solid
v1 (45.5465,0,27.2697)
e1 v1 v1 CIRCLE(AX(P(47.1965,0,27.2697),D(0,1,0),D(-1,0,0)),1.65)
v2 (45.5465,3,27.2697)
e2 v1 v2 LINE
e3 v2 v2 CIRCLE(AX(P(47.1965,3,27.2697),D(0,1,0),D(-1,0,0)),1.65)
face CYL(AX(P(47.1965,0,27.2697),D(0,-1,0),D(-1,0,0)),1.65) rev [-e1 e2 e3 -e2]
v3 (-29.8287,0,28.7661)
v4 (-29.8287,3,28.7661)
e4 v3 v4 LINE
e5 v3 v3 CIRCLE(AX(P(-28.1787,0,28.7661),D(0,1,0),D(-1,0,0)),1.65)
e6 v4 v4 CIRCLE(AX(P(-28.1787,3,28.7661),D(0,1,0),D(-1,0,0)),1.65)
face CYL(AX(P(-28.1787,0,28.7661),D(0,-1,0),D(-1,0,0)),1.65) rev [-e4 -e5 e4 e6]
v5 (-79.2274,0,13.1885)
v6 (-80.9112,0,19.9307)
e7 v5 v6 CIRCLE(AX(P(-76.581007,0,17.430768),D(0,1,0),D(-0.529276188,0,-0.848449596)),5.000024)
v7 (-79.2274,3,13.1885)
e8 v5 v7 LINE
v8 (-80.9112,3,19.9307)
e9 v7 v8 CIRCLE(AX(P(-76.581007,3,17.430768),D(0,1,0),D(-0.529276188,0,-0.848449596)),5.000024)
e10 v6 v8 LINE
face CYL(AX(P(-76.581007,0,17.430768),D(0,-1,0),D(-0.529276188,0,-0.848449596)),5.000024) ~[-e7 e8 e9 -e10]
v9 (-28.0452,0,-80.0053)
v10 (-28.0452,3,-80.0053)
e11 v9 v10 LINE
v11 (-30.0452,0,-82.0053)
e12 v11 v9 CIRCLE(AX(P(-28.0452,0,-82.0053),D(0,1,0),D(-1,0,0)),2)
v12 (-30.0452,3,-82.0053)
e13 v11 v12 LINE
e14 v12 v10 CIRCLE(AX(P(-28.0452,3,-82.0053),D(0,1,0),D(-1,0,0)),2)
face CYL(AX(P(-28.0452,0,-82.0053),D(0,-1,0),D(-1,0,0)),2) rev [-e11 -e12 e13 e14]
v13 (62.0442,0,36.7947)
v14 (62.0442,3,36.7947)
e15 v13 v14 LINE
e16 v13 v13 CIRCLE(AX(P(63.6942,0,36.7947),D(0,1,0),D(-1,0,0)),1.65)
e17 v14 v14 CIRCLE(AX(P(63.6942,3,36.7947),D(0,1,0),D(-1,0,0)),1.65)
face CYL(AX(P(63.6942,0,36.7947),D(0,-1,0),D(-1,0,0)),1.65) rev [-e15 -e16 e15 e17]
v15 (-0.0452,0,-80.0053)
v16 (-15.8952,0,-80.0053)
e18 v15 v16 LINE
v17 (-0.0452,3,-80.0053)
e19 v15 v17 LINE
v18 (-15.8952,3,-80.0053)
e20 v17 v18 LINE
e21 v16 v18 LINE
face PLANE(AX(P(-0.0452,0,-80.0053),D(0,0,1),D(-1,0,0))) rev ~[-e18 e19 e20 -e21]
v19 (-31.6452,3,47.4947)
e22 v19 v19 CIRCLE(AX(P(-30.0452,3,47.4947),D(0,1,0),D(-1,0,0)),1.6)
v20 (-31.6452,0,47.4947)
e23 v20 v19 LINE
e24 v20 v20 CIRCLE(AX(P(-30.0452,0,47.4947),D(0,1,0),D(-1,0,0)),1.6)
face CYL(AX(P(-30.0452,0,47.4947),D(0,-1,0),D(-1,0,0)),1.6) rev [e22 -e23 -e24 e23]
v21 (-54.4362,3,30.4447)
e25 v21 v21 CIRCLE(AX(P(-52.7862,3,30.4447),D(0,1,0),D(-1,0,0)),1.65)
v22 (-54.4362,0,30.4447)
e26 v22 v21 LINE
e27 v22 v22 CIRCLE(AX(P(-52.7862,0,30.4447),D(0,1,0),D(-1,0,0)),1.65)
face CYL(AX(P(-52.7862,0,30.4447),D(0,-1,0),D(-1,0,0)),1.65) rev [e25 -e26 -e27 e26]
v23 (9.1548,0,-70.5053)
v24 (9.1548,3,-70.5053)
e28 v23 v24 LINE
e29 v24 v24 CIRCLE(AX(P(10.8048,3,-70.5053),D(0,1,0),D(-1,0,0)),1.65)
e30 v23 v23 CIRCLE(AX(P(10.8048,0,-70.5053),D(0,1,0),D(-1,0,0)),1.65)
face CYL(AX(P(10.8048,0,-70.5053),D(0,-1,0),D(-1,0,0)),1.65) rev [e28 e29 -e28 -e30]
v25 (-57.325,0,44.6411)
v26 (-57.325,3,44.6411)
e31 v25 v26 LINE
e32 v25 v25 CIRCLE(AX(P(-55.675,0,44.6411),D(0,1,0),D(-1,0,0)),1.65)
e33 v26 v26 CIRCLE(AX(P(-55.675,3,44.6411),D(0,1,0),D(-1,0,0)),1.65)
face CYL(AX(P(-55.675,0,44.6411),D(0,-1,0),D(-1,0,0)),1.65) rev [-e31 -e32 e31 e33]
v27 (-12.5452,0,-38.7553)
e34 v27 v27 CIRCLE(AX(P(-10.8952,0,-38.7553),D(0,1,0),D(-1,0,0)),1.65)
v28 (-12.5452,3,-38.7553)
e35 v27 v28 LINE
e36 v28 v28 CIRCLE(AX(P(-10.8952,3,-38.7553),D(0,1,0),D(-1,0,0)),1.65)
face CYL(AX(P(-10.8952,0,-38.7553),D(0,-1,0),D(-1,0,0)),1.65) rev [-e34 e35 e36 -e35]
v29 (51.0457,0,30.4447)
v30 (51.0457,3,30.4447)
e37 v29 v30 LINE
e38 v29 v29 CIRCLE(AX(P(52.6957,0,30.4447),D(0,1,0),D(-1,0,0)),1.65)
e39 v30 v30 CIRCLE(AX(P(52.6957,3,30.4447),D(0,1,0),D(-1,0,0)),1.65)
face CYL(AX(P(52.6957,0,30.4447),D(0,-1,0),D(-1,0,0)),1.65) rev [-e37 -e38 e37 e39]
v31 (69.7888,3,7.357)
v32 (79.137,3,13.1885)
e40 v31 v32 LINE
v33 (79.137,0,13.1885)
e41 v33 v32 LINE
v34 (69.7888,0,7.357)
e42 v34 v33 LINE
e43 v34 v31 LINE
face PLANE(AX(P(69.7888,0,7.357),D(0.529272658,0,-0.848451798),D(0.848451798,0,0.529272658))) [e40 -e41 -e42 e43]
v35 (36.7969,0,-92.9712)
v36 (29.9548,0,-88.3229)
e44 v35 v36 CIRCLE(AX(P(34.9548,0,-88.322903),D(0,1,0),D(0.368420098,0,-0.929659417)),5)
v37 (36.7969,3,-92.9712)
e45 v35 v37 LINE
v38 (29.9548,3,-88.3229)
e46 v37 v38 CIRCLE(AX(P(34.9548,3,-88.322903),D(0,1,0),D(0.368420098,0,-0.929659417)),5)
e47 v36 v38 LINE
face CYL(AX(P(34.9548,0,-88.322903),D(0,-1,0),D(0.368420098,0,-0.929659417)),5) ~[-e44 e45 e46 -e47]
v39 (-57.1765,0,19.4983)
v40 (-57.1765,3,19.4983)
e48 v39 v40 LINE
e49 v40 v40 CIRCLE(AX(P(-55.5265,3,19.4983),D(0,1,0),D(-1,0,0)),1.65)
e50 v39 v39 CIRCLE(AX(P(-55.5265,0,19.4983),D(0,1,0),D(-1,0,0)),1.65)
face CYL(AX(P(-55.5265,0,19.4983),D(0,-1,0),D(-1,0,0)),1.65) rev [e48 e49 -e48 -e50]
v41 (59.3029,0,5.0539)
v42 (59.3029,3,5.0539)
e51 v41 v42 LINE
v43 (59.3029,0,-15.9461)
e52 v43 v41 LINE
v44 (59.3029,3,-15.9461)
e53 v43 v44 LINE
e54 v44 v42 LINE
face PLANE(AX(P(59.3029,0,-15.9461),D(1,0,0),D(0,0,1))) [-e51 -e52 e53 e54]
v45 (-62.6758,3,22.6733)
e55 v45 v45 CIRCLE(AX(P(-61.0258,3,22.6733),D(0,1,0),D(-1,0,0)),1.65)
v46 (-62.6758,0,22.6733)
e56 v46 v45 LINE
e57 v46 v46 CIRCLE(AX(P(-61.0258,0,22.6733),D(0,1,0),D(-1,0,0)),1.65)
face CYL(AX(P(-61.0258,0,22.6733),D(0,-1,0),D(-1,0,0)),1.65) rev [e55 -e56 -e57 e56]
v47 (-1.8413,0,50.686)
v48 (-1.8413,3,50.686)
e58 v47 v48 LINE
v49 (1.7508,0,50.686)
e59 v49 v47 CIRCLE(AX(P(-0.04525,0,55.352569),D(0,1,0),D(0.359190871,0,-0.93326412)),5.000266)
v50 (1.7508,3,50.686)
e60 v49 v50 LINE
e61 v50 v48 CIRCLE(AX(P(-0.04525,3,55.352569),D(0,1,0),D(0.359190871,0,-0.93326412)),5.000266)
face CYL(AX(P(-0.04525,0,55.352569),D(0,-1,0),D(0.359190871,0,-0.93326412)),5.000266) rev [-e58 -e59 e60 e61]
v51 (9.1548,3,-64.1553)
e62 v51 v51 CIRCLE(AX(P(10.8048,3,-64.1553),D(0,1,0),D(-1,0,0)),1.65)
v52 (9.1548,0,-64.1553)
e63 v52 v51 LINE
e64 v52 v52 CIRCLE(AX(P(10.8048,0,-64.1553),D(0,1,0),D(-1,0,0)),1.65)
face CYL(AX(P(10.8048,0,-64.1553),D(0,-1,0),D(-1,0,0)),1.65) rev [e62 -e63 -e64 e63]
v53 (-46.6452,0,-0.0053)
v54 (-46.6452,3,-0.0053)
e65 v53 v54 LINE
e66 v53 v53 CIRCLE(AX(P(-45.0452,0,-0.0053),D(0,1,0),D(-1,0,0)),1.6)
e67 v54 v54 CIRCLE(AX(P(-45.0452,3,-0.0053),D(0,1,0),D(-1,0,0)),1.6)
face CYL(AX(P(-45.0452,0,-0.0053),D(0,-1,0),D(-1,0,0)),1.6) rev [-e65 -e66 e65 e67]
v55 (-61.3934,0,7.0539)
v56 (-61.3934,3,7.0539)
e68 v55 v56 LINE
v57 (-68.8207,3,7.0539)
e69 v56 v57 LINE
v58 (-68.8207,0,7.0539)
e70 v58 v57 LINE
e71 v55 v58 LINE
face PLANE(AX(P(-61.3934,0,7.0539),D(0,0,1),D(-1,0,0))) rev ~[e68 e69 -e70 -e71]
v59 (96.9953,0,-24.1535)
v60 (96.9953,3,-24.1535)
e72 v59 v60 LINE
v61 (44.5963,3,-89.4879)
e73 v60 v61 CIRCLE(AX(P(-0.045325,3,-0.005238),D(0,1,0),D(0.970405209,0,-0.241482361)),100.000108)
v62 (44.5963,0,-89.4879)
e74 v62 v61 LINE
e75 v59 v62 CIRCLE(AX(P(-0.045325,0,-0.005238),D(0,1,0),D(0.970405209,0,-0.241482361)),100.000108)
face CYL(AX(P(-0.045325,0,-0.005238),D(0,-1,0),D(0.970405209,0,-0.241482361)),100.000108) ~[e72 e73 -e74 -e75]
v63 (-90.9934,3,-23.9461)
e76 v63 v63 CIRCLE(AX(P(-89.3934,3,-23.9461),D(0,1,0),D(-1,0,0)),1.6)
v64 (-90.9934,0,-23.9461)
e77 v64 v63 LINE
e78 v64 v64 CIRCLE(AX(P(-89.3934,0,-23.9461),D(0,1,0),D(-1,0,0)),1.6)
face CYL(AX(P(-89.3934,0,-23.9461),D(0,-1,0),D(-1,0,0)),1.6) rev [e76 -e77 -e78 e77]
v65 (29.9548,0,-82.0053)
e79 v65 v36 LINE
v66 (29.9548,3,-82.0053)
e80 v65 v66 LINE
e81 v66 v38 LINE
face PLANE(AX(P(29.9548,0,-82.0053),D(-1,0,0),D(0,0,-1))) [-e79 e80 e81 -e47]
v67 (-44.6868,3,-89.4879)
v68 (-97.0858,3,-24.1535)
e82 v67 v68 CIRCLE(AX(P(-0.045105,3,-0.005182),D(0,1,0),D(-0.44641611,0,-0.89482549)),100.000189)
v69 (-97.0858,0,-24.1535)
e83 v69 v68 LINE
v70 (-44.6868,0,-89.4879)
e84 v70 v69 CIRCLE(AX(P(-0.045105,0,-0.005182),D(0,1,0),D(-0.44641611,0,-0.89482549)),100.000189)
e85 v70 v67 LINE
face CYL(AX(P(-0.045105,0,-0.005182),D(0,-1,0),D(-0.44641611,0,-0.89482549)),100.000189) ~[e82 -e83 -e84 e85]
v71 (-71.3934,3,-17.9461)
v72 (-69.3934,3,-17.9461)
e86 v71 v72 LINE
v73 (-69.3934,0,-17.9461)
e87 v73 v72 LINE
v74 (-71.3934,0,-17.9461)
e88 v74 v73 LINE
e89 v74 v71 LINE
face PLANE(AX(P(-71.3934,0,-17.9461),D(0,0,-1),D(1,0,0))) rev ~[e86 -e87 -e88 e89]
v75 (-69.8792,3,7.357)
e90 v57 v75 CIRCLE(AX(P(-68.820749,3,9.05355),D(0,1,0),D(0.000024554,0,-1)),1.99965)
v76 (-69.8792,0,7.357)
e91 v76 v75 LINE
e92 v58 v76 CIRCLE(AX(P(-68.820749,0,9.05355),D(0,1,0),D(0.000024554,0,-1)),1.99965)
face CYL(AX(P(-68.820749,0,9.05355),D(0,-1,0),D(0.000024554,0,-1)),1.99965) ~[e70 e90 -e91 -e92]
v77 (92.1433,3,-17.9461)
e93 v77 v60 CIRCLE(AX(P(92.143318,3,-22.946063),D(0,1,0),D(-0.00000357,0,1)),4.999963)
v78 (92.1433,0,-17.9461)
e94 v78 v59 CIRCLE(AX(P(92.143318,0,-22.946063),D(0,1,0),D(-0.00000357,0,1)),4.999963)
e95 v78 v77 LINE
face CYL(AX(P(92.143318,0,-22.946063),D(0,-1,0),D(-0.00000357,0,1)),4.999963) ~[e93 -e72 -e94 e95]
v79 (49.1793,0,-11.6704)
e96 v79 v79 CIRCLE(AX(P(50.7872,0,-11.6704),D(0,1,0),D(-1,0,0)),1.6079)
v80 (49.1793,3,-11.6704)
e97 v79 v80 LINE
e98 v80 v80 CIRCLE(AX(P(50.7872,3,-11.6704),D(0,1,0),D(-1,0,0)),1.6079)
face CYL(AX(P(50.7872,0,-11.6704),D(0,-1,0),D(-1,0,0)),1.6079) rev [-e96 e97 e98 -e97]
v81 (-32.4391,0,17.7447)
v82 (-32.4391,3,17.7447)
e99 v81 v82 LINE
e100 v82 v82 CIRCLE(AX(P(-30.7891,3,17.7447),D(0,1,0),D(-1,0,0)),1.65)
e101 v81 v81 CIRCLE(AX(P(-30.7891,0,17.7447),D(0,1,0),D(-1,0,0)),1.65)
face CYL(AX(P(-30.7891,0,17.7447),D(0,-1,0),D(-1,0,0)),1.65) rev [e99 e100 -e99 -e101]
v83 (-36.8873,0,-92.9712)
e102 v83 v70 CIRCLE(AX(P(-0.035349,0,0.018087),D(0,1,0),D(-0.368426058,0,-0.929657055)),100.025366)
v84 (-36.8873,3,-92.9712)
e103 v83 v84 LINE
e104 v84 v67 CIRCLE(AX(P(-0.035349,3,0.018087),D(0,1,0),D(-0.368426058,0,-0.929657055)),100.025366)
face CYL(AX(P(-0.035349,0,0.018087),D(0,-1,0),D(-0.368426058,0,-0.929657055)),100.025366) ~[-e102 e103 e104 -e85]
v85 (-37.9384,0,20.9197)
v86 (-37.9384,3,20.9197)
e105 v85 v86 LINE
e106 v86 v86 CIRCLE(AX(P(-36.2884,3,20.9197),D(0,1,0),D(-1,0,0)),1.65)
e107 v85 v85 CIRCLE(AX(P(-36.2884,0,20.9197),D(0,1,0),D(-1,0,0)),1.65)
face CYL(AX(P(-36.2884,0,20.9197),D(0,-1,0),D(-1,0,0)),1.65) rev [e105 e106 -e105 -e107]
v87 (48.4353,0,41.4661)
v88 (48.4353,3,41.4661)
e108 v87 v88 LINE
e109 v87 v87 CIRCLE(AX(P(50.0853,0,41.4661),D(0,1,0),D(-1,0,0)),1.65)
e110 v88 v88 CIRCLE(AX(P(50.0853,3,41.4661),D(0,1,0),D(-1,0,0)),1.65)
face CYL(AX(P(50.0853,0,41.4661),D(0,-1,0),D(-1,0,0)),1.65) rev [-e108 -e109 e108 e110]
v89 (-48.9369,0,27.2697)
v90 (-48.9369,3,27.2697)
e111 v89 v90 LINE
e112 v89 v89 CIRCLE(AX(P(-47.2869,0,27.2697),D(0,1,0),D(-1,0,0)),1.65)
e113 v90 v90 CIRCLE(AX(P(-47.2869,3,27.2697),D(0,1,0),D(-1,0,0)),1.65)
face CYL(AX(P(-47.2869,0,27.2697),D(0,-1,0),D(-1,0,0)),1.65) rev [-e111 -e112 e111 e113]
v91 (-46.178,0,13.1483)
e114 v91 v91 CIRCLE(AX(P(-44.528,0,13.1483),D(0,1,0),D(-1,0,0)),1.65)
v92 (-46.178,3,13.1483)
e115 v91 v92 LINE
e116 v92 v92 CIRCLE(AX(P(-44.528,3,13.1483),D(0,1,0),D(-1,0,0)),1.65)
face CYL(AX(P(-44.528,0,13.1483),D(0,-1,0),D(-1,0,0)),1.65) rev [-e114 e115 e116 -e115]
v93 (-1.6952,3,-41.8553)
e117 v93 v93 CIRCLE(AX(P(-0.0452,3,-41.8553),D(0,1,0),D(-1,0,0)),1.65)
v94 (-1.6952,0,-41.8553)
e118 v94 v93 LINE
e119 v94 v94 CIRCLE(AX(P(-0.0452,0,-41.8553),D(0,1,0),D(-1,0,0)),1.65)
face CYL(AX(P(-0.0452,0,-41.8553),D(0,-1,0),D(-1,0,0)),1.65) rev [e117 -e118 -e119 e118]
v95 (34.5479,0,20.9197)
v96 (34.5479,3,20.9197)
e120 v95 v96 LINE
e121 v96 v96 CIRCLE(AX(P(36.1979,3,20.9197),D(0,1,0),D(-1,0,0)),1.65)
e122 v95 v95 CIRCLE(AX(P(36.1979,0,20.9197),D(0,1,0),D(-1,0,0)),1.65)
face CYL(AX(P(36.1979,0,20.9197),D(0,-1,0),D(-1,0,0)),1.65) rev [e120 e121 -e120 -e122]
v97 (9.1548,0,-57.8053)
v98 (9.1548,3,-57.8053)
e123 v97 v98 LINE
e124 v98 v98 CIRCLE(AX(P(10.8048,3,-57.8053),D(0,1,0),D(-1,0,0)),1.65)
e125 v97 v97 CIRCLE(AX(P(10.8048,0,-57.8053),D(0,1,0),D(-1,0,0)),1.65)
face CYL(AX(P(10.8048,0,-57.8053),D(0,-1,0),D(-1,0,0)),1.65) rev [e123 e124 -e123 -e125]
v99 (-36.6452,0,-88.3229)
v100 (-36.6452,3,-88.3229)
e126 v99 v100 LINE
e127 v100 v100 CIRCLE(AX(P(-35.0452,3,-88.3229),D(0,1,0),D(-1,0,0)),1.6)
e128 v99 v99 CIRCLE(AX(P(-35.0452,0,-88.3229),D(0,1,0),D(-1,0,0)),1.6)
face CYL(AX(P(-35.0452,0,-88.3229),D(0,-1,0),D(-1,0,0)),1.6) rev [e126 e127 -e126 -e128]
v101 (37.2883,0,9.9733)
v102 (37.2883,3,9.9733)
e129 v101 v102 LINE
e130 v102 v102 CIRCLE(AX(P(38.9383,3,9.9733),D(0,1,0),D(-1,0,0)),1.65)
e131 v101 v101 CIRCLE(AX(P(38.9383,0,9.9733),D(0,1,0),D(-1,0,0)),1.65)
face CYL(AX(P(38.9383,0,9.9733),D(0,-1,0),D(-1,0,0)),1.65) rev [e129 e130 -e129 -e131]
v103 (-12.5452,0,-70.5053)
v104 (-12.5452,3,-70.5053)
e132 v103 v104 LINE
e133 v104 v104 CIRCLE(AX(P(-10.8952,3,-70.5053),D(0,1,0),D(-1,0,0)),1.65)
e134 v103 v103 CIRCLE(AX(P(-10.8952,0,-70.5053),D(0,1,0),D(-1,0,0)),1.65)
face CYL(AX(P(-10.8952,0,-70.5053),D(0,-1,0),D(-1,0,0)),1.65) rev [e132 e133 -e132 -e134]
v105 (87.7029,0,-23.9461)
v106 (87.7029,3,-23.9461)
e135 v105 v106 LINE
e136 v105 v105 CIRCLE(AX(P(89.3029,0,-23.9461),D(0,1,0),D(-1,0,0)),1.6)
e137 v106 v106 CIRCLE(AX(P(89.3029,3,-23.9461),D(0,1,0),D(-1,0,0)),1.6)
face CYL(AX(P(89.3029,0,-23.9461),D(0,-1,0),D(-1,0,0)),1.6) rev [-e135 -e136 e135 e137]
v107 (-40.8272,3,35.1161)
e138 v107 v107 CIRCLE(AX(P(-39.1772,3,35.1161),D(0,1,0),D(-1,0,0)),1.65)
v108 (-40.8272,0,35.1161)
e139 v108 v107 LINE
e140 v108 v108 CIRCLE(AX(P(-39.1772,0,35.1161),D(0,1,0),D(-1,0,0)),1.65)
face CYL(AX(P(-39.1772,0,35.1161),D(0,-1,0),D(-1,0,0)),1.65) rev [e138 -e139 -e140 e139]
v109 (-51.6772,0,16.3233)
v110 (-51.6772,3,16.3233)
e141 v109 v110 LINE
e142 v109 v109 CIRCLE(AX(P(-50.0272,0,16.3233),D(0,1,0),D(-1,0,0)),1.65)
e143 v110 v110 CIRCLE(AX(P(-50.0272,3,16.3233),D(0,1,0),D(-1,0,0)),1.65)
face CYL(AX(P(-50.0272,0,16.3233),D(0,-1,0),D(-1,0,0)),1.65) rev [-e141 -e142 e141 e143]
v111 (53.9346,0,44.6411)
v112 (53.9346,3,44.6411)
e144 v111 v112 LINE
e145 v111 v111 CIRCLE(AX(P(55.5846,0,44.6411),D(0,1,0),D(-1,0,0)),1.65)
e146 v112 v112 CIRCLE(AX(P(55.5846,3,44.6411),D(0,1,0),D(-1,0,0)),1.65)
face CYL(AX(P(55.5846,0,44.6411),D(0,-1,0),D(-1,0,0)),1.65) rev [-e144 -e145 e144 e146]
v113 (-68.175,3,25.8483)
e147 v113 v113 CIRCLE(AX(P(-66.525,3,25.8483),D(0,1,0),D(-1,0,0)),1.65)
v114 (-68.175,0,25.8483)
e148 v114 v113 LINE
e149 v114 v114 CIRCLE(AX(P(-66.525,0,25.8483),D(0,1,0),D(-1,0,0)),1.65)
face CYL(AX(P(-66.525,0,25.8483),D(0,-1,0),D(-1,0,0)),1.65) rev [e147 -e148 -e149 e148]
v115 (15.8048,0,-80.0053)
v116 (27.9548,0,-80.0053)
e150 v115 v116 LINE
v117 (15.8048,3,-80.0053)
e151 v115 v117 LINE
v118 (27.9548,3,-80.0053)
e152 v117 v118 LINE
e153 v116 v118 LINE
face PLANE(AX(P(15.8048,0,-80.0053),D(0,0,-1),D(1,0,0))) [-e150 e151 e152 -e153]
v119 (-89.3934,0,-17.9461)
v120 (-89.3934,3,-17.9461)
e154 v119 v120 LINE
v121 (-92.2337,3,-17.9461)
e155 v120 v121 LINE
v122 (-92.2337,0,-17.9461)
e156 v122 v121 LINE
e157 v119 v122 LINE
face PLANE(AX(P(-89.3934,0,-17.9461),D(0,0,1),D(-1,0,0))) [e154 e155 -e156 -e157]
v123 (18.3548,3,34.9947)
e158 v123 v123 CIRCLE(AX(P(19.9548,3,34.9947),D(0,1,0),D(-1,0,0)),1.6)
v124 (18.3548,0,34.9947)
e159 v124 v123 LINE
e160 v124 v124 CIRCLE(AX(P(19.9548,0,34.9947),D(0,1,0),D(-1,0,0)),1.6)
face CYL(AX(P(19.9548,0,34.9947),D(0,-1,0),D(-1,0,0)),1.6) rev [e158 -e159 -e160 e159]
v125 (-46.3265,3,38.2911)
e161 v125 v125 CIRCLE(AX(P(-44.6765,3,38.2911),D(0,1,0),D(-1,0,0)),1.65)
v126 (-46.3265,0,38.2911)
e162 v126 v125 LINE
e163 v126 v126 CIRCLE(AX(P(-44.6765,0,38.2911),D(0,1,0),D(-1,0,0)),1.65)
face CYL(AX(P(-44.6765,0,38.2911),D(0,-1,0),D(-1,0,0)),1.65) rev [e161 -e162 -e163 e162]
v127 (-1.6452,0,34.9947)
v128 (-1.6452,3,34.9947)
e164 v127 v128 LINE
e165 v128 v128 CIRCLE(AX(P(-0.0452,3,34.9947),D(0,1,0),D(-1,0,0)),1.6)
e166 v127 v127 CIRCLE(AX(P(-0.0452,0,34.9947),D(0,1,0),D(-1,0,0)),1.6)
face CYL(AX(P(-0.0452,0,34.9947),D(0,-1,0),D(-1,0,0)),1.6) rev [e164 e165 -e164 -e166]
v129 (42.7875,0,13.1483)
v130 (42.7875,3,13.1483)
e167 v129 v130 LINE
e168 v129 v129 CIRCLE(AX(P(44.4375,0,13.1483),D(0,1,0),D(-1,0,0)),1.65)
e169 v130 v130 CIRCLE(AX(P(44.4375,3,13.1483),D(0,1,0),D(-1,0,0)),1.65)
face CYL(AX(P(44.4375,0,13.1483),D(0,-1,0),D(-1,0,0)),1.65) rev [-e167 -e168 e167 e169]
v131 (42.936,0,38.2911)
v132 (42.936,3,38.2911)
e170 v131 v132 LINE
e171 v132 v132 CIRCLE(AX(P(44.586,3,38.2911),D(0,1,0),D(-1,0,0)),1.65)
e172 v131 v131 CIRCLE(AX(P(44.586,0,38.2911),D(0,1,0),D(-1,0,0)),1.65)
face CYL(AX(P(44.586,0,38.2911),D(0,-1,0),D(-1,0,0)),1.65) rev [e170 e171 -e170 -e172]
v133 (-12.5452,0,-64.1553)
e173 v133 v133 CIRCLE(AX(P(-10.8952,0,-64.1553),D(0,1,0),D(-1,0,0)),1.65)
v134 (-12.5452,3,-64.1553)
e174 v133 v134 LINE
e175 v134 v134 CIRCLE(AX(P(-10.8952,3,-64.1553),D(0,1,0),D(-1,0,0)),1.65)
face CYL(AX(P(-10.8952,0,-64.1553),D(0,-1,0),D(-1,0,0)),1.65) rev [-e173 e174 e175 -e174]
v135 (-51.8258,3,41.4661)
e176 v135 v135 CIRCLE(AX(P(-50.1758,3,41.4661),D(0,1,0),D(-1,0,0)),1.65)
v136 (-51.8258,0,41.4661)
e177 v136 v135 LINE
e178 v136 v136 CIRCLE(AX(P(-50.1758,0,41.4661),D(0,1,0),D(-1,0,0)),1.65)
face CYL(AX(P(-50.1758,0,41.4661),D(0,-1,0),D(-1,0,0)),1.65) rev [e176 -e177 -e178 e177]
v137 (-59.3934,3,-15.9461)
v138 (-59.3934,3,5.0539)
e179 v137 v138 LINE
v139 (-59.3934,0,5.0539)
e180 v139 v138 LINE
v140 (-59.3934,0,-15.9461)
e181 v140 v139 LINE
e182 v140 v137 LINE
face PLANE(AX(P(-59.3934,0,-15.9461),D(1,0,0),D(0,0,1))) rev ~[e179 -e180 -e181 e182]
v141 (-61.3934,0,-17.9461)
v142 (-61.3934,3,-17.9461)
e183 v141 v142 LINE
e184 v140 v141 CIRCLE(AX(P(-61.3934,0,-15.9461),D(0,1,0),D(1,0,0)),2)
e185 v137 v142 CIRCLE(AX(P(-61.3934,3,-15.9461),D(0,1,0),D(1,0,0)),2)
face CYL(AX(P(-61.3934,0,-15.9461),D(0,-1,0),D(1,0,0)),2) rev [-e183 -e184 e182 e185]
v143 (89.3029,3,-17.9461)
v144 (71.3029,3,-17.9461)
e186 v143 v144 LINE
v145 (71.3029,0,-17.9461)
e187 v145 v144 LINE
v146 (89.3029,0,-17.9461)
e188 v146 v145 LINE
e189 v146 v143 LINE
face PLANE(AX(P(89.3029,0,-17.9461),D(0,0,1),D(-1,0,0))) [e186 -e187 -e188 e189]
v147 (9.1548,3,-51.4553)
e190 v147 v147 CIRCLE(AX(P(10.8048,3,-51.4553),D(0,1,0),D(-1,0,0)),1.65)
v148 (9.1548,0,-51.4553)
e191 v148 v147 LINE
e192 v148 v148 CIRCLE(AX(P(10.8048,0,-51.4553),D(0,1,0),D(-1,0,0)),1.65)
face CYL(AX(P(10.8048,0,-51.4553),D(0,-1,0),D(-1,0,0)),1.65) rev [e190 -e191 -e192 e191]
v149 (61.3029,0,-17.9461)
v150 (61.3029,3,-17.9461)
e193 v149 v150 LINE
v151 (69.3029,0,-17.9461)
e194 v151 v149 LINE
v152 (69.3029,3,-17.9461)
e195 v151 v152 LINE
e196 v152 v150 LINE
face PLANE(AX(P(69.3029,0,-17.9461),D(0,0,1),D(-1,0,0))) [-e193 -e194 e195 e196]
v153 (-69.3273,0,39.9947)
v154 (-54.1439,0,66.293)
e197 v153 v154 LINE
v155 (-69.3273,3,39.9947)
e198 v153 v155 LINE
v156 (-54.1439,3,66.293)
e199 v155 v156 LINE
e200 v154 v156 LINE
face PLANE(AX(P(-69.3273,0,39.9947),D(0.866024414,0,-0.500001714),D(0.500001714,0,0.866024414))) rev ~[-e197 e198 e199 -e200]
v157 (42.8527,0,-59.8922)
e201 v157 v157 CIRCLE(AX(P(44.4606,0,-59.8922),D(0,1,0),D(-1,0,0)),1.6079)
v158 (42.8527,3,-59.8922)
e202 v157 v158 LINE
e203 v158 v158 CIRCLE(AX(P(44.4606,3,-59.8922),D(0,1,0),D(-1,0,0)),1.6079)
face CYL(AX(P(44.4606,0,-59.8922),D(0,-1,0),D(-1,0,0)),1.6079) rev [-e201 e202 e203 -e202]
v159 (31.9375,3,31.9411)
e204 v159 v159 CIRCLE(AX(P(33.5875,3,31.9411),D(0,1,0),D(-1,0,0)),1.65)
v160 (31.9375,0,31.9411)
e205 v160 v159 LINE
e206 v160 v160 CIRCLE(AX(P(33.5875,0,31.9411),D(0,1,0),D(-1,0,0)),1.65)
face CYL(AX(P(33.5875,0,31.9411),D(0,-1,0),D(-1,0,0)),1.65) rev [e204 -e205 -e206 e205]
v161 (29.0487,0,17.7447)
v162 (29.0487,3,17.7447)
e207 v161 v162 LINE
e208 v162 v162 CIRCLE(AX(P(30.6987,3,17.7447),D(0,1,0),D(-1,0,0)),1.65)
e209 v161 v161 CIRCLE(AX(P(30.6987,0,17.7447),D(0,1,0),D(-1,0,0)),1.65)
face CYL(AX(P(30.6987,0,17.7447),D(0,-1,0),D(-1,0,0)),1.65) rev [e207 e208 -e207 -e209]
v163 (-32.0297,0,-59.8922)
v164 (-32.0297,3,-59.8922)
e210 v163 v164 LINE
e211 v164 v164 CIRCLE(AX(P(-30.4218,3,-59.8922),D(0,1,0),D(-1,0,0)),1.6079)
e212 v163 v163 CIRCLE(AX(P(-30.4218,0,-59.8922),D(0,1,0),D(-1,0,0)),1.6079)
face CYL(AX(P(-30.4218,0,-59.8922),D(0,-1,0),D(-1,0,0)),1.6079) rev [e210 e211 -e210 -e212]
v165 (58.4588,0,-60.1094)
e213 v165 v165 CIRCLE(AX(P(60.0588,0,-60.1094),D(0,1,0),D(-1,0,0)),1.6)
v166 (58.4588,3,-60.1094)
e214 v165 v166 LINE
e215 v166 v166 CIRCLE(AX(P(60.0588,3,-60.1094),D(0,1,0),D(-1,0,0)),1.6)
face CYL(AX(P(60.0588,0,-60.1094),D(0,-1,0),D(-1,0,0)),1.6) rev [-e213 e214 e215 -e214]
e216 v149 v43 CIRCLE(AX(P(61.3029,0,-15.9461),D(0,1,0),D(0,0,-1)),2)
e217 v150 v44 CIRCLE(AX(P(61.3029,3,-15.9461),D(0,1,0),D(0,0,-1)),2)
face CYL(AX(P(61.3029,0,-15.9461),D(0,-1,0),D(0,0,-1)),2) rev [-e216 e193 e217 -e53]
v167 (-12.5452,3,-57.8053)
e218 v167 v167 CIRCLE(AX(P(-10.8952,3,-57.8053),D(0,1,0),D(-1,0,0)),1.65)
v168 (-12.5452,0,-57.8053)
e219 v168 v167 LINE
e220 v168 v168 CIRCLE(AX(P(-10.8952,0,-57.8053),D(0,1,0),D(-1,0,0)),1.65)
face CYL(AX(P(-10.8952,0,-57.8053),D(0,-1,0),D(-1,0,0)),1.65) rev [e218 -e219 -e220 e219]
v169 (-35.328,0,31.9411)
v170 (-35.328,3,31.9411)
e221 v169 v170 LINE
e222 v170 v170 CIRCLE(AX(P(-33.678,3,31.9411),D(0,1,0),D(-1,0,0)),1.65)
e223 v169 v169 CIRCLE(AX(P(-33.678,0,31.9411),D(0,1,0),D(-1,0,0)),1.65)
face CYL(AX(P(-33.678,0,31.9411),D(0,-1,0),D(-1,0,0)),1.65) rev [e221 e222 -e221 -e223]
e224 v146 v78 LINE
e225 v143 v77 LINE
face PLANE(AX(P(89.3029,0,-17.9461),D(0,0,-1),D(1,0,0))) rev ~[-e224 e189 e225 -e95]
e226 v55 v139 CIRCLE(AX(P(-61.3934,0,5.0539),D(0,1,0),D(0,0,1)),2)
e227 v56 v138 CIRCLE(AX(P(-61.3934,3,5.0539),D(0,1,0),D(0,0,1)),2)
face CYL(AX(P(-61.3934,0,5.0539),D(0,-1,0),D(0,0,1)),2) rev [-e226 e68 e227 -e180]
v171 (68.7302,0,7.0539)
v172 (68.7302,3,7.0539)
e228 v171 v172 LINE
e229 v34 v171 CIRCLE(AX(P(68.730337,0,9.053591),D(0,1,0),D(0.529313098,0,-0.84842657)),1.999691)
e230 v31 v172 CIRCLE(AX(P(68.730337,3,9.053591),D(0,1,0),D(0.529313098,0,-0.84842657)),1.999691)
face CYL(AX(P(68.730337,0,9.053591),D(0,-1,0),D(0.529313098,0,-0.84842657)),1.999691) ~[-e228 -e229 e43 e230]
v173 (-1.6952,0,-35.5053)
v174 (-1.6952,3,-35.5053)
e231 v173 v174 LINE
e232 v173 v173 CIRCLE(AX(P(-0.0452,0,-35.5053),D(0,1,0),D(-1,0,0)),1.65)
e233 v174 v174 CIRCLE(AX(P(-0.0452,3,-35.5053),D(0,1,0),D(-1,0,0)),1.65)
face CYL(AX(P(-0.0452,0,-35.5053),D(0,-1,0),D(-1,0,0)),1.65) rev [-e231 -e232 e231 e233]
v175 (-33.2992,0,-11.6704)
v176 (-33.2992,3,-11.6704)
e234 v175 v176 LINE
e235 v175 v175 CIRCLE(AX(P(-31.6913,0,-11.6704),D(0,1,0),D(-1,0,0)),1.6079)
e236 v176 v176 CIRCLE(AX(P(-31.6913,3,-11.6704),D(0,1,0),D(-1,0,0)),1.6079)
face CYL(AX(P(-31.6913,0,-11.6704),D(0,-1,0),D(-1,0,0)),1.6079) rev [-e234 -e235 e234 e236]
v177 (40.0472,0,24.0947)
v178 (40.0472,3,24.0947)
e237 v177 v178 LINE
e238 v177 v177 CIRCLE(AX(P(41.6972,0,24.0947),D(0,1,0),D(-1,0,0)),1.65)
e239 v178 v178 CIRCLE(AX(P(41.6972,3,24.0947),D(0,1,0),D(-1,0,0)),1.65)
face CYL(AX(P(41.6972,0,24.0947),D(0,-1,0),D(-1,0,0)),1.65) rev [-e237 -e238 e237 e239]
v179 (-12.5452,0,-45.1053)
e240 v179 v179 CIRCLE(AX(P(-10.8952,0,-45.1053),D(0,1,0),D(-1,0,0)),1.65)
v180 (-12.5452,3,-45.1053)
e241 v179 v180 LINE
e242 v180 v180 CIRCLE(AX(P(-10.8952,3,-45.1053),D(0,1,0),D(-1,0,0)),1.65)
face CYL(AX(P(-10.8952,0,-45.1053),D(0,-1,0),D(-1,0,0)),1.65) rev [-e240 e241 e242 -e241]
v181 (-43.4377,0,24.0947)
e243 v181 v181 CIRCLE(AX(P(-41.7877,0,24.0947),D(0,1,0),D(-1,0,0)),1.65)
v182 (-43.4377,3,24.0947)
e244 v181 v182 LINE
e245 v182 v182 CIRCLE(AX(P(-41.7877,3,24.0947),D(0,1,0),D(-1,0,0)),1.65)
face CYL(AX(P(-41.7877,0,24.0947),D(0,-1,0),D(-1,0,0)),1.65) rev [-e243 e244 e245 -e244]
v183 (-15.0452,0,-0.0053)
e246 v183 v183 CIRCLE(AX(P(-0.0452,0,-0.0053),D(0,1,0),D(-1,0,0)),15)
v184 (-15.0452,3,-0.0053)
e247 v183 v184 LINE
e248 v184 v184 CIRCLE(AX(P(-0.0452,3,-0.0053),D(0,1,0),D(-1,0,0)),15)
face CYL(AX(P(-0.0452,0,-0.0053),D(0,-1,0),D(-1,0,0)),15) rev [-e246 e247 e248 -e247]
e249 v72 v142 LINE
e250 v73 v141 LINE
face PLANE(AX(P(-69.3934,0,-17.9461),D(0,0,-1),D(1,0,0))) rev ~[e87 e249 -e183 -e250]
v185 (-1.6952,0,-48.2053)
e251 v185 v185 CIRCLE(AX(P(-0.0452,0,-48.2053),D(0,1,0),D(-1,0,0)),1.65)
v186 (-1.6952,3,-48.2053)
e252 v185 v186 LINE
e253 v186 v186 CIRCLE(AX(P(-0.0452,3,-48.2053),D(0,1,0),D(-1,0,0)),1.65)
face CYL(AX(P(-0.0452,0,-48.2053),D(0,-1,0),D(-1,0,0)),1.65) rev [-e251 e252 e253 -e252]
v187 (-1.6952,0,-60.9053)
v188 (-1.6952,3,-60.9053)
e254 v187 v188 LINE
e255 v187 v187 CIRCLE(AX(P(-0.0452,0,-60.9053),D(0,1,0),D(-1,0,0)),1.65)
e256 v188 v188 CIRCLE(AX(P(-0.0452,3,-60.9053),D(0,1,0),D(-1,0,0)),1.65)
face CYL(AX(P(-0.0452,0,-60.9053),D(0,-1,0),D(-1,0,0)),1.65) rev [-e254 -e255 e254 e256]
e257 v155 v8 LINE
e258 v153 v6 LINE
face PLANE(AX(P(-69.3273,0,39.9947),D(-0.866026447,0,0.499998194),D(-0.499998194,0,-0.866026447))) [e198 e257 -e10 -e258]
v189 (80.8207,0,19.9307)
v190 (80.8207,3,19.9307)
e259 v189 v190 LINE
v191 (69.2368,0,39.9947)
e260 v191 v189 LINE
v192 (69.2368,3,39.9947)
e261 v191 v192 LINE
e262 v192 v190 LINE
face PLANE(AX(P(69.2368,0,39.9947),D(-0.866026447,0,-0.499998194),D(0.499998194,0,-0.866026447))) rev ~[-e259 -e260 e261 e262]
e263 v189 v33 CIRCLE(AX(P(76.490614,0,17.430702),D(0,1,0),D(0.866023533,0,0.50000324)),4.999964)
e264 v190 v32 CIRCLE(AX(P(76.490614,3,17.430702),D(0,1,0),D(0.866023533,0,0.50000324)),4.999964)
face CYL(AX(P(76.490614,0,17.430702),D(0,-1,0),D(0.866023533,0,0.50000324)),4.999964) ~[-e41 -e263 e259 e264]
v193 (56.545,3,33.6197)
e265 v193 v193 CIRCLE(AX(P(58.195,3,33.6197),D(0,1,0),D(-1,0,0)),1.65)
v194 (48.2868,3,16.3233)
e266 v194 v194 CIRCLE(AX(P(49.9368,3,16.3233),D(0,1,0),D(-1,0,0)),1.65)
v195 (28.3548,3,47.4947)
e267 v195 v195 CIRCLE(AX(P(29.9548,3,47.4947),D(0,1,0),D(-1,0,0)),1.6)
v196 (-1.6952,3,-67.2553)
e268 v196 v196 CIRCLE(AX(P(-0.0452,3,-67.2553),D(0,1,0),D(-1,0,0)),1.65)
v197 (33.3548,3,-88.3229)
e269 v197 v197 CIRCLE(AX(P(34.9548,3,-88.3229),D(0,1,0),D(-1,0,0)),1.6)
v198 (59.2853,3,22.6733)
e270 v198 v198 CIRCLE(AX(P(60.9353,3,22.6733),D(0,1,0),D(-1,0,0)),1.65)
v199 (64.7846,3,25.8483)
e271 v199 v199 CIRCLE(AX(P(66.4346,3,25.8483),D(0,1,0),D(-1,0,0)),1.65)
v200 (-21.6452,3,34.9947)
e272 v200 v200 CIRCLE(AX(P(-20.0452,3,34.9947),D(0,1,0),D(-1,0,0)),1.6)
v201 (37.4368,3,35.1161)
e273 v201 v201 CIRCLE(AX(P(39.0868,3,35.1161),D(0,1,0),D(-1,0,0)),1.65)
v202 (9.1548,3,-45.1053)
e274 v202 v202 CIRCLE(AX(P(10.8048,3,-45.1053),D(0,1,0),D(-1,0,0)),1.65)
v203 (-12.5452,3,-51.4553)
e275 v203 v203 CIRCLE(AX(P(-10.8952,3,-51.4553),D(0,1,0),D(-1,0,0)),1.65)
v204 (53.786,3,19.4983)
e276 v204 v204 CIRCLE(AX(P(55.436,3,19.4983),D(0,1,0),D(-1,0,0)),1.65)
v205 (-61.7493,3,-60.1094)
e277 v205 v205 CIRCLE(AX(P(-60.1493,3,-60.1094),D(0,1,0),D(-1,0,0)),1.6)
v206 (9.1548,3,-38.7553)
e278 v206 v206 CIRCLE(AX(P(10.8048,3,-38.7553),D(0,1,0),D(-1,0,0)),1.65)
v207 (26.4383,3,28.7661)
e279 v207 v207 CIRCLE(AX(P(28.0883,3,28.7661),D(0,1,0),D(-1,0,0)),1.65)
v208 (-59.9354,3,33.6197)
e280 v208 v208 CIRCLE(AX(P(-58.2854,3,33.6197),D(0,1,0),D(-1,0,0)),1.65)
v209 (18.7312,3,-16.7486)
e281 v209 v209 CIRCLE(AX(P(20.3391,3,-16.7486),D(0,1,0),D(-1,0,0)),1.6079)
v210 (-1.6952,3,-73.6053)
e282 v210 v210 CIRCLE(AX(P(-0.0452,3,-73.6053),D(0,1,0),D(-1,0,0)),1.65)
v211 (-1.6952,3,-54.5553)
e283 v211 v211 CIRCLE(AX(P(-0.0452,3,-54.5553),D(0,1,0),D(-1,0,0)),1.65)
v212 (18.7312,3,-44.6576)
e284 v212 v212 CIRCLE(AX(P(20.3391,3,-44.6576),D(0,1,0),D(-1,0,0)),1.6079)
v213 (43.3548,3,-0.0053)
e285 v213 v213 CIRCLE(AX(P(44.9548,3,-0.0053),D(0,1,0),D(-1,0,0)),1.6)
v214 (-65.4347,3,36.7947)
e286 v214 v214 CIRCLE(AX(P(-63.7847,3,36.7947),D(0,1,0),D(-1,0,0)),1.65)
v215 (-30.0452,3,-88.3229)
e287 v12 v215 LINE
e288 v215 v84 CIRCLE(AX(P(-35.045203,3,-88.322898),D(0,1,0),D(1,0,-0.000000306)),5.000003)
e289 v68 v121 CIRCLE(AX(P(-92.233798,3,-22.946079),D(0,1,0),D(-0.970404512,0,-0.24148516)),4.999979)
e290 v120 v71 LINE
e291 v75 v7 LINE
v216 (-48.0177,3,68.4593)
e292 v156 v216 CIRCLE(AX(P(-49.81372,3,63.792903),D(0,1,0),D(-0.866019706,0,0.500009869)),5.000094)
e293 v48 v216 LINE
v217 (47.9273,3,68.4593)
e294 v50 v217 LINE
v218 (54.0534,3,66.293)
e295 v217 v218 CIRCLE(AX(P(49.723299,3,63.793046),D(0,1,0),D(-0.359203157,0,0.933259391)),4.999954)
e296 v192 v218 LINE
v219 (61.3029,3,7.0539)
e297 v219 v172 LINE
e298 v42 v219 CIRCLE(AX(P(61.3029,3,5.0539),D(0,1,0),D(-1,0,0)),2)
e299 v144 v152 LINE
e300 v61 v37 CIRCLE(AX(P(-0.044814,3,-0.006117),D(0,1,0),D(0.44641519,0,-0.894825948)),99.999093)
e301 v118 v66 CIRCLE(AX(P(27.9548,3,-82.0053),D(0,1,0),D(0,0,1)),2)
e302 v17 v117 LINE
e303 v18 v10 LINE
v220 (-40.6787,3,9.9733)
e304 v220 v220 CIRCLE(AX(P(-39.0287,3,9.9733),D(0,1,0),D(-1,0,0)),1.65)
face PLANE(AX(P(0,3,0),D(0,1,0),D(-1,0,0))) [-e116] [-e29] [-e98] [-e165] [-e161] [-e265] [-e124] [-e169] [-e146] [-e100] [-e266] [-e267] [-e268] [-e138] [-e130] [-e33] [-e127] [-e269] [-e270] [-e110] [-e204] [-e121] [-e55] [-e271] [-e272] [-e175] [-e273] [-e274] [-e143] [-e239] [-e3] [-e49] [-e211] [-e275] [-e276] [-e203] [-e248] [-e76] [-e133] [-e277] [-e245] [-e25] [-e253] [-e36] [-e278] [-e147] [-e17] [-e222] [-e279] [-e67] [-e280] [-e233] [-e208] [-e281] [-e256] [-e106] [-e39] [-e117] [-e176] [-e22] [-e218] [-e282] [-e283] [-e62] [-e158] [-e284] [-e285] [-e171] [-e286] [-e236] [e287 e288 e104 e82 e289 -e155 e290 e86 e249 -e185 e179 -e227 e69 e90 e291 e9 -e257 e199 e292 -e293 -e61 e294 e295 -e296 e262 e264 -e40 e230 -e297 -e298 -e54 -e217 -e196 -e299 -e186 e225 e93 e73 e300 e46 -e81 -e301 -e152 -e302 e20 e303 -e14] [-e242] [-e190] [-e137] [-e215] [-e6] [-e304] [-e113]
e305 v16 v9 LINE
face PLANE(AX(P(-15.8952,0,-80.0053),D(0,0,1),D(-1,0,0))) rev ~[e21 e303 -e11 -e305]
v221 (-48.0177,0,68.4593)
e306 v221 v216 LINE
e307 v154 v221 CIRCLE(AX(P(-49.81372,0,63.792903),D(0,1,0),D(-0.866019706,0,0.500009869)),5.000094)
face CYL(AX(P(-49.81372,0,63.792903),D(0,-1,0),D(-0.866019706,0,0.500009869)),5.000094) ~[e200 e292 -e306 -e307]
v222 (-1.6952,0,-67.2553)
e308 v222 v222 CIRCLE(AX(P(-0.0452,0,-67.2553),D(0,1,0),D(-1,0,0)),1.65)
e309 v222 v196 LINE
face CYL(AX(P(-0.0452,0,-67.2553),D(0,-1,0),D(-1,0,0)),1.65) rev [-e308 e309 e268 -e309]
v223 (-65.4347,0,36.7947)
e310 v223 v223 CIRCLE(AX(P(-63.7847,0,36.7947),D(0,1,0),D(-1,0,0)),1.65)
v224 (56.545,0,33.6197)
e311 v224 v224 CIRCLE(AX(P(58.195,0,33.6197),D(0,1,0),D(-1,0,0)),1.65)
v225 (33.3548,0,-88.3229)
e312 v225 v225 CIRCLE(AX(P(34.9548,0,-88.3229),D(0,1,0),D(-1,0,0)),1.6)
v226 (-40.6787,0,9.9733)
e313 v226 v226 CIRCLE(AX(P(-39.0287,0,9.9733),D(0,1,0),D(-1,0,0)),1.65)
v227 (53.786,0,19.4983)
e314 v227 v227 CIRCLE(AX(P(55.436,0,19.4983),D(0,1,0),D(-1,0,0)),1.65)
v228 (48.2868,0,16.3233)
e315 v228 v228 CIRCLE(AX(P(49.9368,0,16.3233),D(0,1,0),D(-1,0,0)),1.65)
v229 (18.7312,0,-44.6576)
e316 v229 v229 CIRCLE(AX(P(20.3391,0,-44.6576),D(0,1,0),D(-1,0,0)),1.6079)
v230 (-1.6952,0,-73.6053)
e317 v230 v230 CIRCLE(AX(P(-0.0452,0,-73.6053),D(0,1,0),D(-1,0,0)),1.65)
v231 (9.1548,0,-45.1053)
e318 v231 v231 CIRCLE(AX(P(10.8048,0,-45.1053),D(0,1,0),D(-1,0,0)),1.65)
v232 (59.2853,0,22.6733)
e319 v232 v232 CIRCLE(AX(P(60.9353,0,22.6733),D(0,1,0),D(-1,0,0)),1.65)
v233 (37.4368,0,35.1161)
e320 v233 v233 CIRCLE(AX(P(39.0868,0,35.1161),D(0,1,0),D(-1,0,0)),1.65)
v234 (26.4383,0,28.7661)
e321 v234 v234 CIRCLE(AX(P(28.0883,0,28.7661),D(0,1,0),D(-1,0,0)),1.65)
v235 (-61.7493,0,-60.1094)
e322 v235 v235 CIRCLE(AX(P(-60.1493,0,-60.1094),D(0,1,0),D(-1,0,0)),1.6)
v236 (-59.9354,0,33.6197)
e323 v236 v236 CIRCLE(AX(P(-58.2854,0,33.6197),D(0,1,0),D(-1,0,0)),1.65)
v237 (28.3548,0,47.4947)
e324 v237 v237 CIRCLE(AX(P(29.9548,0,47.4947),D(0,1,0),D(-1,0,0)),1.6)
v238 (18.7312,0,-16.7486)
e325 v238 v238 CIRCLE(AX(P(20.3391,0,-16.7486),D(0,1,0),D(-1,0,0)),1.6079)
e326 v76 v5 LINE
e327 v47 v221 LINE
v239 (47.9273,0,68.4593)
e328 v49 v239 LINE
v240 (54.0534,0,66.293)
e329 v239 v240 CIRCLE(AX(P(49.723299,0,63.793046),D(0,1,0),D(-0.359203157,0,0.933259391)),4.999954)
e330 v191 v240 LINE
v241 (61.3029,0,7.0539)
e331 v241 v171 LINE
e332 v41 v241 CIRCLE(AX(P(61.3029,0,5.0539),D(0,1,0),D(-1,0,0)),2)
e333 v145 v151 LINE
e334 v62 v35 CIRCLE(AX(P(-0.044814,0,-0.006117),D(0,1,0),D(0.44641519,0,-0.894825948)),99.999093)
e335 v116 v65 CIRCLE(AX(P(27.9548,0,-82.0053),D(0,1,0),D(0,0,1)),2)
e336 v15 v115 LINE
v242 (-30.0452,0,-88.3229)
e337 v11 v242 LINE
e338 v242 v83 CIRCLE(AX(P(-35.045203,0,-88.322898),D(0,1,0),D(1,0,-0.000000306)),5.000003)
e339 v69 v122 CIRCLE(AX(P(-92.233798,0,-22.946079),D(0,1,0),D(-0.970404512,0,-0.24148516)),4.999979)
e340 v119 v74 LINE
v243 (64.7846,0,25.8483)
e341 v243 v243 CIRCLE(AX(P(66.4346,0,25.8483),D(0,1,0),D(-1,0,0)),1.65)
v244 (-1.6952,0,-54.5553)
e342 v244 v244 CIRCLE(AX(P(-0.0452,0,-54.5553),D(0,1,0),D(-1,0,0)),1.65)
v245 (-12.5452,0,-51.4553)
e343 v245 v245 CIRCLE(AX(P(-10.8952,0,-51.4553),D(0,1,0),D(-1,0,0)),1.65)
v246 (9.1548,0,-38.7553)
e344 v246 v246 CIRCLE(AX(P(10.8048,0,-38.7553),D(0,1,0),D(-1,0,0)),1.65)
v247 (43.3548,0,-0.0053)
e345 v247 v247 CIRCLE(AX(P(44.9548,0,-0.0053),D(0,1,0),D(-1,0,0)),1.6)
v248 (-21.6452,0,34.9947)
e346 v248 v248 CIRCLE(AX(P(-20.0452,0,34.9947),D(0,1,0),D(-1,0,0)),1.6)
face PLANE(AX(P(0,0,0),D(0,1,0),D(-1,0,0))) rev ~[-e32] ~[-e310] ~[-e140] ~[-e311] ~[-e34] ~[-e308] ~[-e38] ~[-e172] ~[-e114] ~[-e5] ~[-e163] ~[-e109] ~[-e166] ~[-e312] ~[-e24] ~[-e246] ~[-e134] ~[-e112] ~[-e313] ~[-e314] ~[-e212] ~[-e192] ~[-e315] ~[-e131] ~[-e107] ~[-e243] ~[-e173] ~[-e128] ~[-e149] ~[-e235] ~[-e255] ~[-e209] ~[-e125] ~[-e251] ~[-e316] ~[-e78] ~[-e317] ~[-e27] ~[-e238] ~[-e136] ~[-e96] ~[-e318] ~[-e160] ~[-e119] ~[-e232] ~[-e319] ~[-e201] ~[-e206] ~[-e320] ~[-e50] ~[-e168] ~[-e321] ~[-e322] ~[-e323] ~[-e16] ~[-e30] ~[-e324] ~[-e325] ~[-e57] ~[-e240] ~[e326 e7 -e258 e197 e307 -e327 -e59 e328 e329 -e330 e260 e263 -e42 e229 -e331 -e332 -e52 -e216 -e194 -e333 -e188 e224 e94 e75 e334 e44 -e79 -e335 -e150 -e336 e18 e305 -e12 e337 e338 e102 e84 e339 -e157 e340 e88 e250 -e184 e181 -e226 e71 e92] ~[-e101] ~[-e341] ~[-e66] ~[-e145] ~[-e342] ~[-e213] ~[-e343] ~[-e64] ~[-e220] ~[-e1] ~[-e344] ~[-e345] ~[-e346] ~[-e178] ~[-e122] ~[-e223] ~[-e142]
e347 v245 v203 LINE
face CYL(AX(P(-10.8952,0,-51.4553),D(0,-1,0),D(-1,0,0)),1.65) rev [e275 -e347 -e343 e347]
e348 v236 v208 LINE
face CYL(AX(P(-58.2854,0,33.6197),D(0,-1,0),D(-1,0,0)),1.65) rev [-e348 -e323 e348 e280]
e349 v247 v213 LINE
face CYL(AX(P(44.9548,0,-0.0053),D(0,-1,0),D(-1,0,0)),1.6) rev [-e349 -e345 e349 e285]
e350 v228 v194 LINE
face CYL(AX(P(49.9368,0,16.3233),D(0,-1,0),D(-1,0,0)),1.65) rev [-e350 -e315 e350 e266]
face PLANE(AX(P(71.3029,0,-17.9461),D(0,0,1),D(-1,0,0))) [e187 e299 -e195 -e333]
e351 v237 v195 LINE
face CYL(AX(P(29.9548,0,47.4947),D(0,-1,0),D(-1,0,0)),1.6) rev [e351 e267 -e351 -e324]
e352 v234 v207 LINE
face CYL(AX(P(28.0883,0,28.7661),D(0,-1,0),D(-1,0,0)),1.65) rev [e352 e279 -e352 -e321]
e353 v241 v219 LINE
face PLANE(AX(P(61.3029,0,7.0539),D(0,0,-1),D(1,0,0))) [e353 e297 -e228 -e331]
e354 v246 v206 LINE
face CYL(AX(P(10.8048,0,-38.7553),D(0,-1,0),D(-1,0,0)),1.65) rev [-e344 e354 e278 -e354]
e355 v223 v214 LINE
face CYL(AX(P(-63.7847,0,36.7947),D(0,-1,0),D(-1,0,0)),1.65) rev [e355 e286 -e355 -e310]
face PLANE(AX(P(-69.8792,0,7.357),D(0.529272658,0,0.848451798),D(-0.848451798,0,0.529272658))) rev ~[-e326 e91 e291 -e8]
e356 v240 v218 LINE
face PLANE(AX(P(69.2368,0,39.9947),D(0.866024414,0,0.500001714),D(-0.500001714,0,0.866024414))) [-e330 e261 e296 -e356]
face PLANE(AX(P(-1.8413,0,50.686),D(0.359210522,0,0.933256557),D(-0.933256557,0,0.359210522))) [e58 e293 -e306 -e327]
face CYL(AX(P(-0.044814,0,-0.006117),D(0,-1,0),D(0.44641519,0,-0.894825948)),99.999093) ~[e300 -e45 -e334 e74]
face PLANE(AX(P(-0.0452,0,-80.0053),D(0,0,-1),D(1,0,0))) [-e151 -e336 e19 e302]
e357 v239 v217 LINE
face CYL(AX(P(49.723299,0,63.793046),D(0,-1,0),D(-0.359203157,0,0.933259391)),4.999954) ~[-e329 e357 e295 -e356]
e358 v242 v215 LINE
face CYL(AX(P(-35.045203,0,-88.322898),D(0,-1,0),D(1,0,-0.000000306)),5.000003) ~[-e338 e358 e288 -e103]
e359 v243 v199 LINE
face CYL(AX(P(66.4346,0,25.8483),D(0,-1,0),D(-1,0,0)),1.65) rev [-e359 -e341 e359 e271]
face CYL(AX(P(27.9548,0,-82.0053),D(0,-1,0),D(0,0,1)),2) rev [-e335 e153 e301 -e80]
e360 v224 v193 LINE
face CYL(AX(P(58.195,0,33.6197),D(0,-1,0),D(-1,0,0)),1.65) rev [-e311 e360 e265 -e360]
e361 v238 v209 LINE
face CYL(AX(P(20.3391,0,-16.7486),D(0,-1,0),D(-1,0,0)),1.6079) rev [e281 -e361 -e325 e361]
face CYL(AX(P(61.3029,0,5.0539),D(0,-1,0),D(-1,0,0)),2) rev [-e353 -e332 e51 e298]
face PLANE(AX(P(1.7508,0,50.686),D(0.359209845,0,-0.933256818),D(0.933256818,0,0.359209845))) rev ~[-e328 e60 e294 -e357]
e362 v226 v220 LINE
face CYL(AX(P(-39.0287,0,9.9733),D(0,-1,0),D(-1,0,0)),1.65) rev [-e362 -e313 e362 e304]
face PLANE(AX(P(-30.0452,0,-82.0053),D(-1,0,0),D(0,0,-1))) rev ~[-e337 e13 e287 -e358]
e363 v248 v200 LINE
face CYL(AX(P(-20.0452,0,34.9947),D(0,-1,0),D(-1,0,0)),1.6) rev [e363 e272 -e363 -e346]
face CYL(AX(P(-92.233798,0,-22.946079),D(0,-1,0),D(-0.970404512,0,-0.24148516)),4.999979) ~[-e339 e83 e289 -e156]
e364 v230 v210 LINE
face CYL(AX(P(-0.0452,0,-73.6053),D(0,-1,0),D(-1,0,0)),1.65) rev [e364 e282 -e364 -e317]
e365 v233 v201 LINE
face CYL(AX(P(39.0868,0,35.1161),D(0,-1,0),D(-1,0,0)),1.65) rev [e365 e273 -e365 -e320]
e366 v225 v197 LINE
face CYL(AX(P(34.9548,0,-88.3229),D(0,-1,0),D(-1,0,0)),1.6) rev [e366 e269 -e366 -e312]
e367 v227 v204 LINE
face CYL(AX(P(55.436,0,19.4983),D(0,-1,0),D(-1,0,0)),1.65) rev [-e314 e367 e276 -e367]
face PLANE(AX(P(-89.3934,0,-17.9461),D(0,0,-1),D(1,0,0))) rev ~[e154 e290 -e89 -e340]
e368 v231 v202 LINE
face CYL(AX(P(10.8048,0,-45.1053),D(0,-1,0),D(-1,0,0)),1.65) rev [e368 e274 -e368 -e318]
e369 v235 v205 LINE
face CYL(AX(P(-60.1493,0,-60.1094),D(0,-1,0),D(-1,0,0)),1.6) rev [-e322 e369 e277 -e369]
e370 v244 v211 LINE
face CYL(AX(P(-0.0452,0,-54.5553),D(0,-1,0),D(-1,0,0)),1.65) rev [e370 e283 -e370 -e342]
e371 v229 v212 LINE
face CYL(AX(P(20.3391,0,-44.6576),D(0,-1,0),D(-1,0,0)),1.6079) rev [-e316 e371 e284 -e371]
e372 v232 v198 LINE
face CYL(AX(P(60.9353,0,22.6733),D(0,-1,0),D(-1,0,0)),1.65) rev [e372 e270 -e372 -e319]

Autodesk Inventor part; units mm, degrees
ref_plane "YZ Plane" through (0, 0, 0) normal (1, 0, 0) x (0, 1, 0)
ref_plane "XZ Plane" through (0, 0, 0) normal (0, 1, 0) x (-1, 0, 0)
ref_plane "XY Plane" through (0, 0, 0) normal (0, 0, 1) x (1, 0, 0)
sketch "Sketch1" plane through (0, 0, 0) normal (0, 1, 0) x (-1, 0, 0)
  circle A0 centre (63.7847, 36.7947) radius 1.65
  circle A1 centre (58.2854, 33.6197) radius 1.65
  circle A2 centre (52.7862, 30.4447) radius 1.65
  circle A3 centre (47.2869, 27.2697) radius 1.65
  circle A4 centre (41.7877, 24.0947) radius 1.65
  circle A5 centre (36.2884, 20.9197) radius 1.65
  circle A6 centre (30.7891, 17.7447) radius 1.65
  circle A7 centre (55.675, 44.6411) radius 1.65
  circle A8 centre (50.1758, 41.4661) radius 1.65
  circle A9 centre (44.6765, 38.2911) radius 1.65
  circle A10 centre (39.1772, 35.1161) radius 1.65
  circle A11 centre (33.678, 31.9411) radius 1.65
  circle A12 centre (28.1787, 28.7661) radius 1.65
  circle A13 centre (66.525, 25.8483) radius 1.65
  circle A14 centre (61.0258, 22.6733) radius 1.65
  circle A15 centre (55.5265, 19.4983) radius 1.65
  circle A16 centre (50.0272, 16.3233) radius 1.65
  circle A17 centre (44.528, 13.1483) radius 1.65
  circle A18 centre (39.0287, 9.9733) radius 1.65
  circle A19 centre (-63.6942, 36.7947) radius 1.65
  circle A20 centre (-58.195, 33.6197) radius 1.65
  circle A21 centre (-52.6957, 30.4447) radius 1.65
  circle A22 centre (-47.1965, 27.2697) radius 1.65
  circle A23 centre (-41.6972, 24.0947) radius 1.65
  circle A24 centre (-36.1979, 20.9197) radius 1.65
  circle A25 centre (-30.6987, 17.7447) radius 1.65
  circle A26 centre (-55.5846, 44.6411) radius 1.65
  circle A27 centre (-50.0853, 41.4661) radius 1.65
  circle A28 centre (-44.586, 38.2911) radius 1.65
  circle A29 centre (-39.0868, 35.1161) radius 1.65
  circle A30 centre (-33.5875, 31.9411) radius 1.65
  circle A31 centre (-28.0883, 28.7661) radius 1.65
  circle A32 centre (-66.4346, 25.8483) radius 1.65
  circle A33 centre (-60.9353, 22.6733) radius 1.65
  circle A34 centre (-55.436, 19.4983) radius 1.65
  circle A35 centre (-49.9368, 16.3233) radius 1.65
  circle A36 centre (-44.4375, 13.1483) radius 1.65
  circle A37 centre (-38.9383, 9.9733) radius 1.65
  circle A38 centre (0.0452, -73.6053) radius 1.65
  circle A39 centre (0.0452, -67.2553) radius 1.65
  circle A40 centre (0.0452, -60.9053) radius 1.65
  circle A41 centre (0.0452, -54.5553) radius 1.65
  circle A42 centre (0.0452, -48.2053) radius 1.65
  circle A43 centre (0.0452, -41.8553) radius 1.65
  circle A44 centre (0.0452, -35.5053) radius 1.65
  circle A45 centre (10.8952, -70.5053) radius 1.65
  circle A46 centre (10.8952, -64.1553) radius 1.65
  circle A47 centre (10.8952, -57.8053) radius 1.65
  circle A48 centre (10.8952, -51.4553) radius 1.65
  circle A49 centre (10.8952, -45.1053) radius 1.65
  circle A50 centre (10.8952, -38.7553) radius 1.65
  circle A51 centre (-10.8048, -70.5053) radius 1.65
  circle A52 centre (-10.8048, -64.1553) radius 1.65
  circle A53 centre (-10.8048, -57.8053) radius 1.65
  circle A54 centre (-10.8048, -51.4553) radius 1.65
  circle A55 centre (-10.8048, -45.1053) radius 1.65
  circle A56 centre (-10.8048, -38.7553) radius 1.65
  circle A57 centre (-29.9548, 47.4947) radius 1.6
  circle A58 centre (30.0452, 47.4947) radius 1.6
  circle A59 centre (35.0452, -88.3229) radius 1.6
  circle A60 centre (-34.9548, -88.3229) radius 1.6
  circle A61 centre (-89.3029, -23.9461) radius 1.6
  circle A62 centre (89.3934, -23.9461) radius 1.6
  circle A63 centre (-20.3391, -44.6576) radius 1.6079
  circle A64 centre (30.4218, -59.8922) radius 1.6079
  circle A65 centre (-44.4606, -59.8922) radius 1.6079
  circle A66 centre (-50.7872, -11.6704) radius 1.6079
  circle A67 centre (-20.3391, -16.7486) radius 1.6079
  circle A68 centre (31.6913, -11.6704) radius 1.6079
  circle A69 centre (0.0452, -0.0053) radius 15
  circle A70 centre (-19.9548, 34.9947) radius 1.6
  circle A71 centre (20.0452, 34.9947) radius 1.6
  circle A72 centre (60.1493, -60.1094) radius 1.6
  circle A73 centre (-60.0588, -60.1094) radius 1.6
  circle A74 centre (0.0452, 34.9947) radius 1.6
  circle A75 centre (45.0452, -0.0053) radius 1.6
  circle A76 centre (-44.9548, -0.0053) radius 1.6
  line L0 (0.0452, -80.0053) -> (-15.8048, -80.0053)
  line L1 (69.3273, 39.9947) -> (54.1439, 66.293)
  line L2 (-69.2368, 39.9947) -> (-54.0534, 66.293)
  line L3 (1.8413, 50.686) -> (48.0177, 68.4593)
  line L4 (-1.7508, 50.686) -> (-47.9273, 68.4593)
  arc A77 (-47.9273, 68.4593) -> (-54.0534, 66.293) centre (-49.7233, 63.793) ccw
  arc A78 (54.1439, 66.293) -> (48.0177, 68.4593) centre (49.8138, 63.793) ccw
  arc A79 (-1.7508, 50.686) -> (1.8413, 50.686) centre (0.0452, 55.3523) ccw
  line L5 (0.0452, -80.0053) -> (-27.9548, -80.0053)
  line L6 (-29.9548, -82.0053) -> (-29.9548, -88.3229)
  arc A80 (-44.5963, -89.4879) -> (-36.7969, -92.9712) centre (0.0452, -0.0053) ccw
  arc A81 (-36.7969, -92.9712) -> (-29.9548, -88.3229) centre (-34.9548, -88.3229) ccw
  arc A82 (-27.9548, -80.0053) -> (-29.9548, -82.0053) centre (-27.9548, -82.0053) ccw
  line L7 (0.0452, -80.0053) -> (15.8952, -80.0053)
  line L8 (0.0452, -80.0053) -> (28.0452, -80.0053)
  arc A83 (30.0452, -82.0053) -> (28.0452, -80.0053) centre (28.0452, -82.0053) ccw
  line L9 (30.0452, -82.0053) -> (30.0452, -88.3229)
  arc A84 (36.8873, -92.9712) -> (44.6868, -89.4879) centre (0.0452, -0.0053) ccw
  arc A85 (30.0452, -88.3229) -> (36.8873, -92.9712) centre (35.0452, -88.3229) ccw
  line L10 (-69.2368, 39.9947) -> (-80.8207, 19.9307)
  line L11 (-89.3029, -17.9461) -> (-92.1433, -17.9461)
  line L12 (-89.3029, -17.9461) -> (-71.3029, -17.9461)
  line L13 (-69.7888, 7.357) -> (-79.137, 13.1885)
  arc A86 (-96.9953, -24.1535) -> (-44.5963, -89.4879) centre (0.0452, -0.0053) ccw
  arc A87 (-92.1433, -17.9461) -> (-96.9953, -24.1535) centre (-92.1433, -22.9461) ccw
  arc A88 (-80.8207, 19.9307) -> (-79.137, 13.1885) centre (-76.4906, 17.4307) ccw
  line L14 (69.3273, 39.9947) -> (80.9112, 19.9307)
  arc A89 (79.2274, 13.1885) -> (80.9112, 19.9307) centre (76.5811, 17.4307) ccw
  arc A90 (44.6868, -89.4879) -> (97.0858, -24.1535) centre (0.0452, -0.0053) ccw
  arc A91 (97.0858, -24.1535) -> (92.2337, -17.9461) centre (92.2337, -22.9461) ccw
  line L15 (-71.3029, -17.9461) -> (-69.3029, -17.9461)
  line L16 (-69.3029, -17.9461) -> (-61.3029, -17.9461)
  line L17 (-59.3029, -15.9461) -> (-59.3029, 5.0539)
  line L18 (-61.3029, 7.0539) -> (-68.7302, 7.0539)
  arc A92 (-61.3029, -17.9461) -> (-59.3029, -15.9461) centre (-61.3029, -15.9461) ccw
  arc A93 (-59.3029, 5.0539) -> (-61.3029, 7.0539) centre (-61.3029, 5.0539) ccw
  arc A94 (-69.7888, 7.357) -> (-68.7302, 7.0539) centre (-68.7302, 9.0539) ccw
  line L19 (89.3934, -17.9461) -> (92.2337, -17.9461)
  line L20 (89.3934, -17.9461) -> (71.3934, -17.9461)
  line L21 (69.8792, 7.357) -> (79.2274, 13.1885)
  arc A95 (68.8207, 7.0539) -> (69.8792, 7.357) centre (68.8207, 9.0539) ccw
  line L22 (71.3934, -17.9461) -> (69.3934, -17.9461)
  line L23 (69.3934, -17.9461) -> (61.3934, -17.9461)
  line L24 (59.3934, -15.9461) -> (59.3934, 5.0539)
  arc A96 (61.3934, 7.0539) -> (59.3934, 5.0539) centre (61.3934, 5.0539) ccw
  arc A97 (59.3934, -15.9461) -> (61.3934, -17.9461) centre (61.3934, -15.9461) ccw
  line L25 (61.3934, 7.0539) -> (68.8207, 7.0539)
extrude "Extrusion2" add sketch "Sketch1" along normal blind 3
properties part number "Motor Mount Plate" material "Polycarbonate, Clear"
